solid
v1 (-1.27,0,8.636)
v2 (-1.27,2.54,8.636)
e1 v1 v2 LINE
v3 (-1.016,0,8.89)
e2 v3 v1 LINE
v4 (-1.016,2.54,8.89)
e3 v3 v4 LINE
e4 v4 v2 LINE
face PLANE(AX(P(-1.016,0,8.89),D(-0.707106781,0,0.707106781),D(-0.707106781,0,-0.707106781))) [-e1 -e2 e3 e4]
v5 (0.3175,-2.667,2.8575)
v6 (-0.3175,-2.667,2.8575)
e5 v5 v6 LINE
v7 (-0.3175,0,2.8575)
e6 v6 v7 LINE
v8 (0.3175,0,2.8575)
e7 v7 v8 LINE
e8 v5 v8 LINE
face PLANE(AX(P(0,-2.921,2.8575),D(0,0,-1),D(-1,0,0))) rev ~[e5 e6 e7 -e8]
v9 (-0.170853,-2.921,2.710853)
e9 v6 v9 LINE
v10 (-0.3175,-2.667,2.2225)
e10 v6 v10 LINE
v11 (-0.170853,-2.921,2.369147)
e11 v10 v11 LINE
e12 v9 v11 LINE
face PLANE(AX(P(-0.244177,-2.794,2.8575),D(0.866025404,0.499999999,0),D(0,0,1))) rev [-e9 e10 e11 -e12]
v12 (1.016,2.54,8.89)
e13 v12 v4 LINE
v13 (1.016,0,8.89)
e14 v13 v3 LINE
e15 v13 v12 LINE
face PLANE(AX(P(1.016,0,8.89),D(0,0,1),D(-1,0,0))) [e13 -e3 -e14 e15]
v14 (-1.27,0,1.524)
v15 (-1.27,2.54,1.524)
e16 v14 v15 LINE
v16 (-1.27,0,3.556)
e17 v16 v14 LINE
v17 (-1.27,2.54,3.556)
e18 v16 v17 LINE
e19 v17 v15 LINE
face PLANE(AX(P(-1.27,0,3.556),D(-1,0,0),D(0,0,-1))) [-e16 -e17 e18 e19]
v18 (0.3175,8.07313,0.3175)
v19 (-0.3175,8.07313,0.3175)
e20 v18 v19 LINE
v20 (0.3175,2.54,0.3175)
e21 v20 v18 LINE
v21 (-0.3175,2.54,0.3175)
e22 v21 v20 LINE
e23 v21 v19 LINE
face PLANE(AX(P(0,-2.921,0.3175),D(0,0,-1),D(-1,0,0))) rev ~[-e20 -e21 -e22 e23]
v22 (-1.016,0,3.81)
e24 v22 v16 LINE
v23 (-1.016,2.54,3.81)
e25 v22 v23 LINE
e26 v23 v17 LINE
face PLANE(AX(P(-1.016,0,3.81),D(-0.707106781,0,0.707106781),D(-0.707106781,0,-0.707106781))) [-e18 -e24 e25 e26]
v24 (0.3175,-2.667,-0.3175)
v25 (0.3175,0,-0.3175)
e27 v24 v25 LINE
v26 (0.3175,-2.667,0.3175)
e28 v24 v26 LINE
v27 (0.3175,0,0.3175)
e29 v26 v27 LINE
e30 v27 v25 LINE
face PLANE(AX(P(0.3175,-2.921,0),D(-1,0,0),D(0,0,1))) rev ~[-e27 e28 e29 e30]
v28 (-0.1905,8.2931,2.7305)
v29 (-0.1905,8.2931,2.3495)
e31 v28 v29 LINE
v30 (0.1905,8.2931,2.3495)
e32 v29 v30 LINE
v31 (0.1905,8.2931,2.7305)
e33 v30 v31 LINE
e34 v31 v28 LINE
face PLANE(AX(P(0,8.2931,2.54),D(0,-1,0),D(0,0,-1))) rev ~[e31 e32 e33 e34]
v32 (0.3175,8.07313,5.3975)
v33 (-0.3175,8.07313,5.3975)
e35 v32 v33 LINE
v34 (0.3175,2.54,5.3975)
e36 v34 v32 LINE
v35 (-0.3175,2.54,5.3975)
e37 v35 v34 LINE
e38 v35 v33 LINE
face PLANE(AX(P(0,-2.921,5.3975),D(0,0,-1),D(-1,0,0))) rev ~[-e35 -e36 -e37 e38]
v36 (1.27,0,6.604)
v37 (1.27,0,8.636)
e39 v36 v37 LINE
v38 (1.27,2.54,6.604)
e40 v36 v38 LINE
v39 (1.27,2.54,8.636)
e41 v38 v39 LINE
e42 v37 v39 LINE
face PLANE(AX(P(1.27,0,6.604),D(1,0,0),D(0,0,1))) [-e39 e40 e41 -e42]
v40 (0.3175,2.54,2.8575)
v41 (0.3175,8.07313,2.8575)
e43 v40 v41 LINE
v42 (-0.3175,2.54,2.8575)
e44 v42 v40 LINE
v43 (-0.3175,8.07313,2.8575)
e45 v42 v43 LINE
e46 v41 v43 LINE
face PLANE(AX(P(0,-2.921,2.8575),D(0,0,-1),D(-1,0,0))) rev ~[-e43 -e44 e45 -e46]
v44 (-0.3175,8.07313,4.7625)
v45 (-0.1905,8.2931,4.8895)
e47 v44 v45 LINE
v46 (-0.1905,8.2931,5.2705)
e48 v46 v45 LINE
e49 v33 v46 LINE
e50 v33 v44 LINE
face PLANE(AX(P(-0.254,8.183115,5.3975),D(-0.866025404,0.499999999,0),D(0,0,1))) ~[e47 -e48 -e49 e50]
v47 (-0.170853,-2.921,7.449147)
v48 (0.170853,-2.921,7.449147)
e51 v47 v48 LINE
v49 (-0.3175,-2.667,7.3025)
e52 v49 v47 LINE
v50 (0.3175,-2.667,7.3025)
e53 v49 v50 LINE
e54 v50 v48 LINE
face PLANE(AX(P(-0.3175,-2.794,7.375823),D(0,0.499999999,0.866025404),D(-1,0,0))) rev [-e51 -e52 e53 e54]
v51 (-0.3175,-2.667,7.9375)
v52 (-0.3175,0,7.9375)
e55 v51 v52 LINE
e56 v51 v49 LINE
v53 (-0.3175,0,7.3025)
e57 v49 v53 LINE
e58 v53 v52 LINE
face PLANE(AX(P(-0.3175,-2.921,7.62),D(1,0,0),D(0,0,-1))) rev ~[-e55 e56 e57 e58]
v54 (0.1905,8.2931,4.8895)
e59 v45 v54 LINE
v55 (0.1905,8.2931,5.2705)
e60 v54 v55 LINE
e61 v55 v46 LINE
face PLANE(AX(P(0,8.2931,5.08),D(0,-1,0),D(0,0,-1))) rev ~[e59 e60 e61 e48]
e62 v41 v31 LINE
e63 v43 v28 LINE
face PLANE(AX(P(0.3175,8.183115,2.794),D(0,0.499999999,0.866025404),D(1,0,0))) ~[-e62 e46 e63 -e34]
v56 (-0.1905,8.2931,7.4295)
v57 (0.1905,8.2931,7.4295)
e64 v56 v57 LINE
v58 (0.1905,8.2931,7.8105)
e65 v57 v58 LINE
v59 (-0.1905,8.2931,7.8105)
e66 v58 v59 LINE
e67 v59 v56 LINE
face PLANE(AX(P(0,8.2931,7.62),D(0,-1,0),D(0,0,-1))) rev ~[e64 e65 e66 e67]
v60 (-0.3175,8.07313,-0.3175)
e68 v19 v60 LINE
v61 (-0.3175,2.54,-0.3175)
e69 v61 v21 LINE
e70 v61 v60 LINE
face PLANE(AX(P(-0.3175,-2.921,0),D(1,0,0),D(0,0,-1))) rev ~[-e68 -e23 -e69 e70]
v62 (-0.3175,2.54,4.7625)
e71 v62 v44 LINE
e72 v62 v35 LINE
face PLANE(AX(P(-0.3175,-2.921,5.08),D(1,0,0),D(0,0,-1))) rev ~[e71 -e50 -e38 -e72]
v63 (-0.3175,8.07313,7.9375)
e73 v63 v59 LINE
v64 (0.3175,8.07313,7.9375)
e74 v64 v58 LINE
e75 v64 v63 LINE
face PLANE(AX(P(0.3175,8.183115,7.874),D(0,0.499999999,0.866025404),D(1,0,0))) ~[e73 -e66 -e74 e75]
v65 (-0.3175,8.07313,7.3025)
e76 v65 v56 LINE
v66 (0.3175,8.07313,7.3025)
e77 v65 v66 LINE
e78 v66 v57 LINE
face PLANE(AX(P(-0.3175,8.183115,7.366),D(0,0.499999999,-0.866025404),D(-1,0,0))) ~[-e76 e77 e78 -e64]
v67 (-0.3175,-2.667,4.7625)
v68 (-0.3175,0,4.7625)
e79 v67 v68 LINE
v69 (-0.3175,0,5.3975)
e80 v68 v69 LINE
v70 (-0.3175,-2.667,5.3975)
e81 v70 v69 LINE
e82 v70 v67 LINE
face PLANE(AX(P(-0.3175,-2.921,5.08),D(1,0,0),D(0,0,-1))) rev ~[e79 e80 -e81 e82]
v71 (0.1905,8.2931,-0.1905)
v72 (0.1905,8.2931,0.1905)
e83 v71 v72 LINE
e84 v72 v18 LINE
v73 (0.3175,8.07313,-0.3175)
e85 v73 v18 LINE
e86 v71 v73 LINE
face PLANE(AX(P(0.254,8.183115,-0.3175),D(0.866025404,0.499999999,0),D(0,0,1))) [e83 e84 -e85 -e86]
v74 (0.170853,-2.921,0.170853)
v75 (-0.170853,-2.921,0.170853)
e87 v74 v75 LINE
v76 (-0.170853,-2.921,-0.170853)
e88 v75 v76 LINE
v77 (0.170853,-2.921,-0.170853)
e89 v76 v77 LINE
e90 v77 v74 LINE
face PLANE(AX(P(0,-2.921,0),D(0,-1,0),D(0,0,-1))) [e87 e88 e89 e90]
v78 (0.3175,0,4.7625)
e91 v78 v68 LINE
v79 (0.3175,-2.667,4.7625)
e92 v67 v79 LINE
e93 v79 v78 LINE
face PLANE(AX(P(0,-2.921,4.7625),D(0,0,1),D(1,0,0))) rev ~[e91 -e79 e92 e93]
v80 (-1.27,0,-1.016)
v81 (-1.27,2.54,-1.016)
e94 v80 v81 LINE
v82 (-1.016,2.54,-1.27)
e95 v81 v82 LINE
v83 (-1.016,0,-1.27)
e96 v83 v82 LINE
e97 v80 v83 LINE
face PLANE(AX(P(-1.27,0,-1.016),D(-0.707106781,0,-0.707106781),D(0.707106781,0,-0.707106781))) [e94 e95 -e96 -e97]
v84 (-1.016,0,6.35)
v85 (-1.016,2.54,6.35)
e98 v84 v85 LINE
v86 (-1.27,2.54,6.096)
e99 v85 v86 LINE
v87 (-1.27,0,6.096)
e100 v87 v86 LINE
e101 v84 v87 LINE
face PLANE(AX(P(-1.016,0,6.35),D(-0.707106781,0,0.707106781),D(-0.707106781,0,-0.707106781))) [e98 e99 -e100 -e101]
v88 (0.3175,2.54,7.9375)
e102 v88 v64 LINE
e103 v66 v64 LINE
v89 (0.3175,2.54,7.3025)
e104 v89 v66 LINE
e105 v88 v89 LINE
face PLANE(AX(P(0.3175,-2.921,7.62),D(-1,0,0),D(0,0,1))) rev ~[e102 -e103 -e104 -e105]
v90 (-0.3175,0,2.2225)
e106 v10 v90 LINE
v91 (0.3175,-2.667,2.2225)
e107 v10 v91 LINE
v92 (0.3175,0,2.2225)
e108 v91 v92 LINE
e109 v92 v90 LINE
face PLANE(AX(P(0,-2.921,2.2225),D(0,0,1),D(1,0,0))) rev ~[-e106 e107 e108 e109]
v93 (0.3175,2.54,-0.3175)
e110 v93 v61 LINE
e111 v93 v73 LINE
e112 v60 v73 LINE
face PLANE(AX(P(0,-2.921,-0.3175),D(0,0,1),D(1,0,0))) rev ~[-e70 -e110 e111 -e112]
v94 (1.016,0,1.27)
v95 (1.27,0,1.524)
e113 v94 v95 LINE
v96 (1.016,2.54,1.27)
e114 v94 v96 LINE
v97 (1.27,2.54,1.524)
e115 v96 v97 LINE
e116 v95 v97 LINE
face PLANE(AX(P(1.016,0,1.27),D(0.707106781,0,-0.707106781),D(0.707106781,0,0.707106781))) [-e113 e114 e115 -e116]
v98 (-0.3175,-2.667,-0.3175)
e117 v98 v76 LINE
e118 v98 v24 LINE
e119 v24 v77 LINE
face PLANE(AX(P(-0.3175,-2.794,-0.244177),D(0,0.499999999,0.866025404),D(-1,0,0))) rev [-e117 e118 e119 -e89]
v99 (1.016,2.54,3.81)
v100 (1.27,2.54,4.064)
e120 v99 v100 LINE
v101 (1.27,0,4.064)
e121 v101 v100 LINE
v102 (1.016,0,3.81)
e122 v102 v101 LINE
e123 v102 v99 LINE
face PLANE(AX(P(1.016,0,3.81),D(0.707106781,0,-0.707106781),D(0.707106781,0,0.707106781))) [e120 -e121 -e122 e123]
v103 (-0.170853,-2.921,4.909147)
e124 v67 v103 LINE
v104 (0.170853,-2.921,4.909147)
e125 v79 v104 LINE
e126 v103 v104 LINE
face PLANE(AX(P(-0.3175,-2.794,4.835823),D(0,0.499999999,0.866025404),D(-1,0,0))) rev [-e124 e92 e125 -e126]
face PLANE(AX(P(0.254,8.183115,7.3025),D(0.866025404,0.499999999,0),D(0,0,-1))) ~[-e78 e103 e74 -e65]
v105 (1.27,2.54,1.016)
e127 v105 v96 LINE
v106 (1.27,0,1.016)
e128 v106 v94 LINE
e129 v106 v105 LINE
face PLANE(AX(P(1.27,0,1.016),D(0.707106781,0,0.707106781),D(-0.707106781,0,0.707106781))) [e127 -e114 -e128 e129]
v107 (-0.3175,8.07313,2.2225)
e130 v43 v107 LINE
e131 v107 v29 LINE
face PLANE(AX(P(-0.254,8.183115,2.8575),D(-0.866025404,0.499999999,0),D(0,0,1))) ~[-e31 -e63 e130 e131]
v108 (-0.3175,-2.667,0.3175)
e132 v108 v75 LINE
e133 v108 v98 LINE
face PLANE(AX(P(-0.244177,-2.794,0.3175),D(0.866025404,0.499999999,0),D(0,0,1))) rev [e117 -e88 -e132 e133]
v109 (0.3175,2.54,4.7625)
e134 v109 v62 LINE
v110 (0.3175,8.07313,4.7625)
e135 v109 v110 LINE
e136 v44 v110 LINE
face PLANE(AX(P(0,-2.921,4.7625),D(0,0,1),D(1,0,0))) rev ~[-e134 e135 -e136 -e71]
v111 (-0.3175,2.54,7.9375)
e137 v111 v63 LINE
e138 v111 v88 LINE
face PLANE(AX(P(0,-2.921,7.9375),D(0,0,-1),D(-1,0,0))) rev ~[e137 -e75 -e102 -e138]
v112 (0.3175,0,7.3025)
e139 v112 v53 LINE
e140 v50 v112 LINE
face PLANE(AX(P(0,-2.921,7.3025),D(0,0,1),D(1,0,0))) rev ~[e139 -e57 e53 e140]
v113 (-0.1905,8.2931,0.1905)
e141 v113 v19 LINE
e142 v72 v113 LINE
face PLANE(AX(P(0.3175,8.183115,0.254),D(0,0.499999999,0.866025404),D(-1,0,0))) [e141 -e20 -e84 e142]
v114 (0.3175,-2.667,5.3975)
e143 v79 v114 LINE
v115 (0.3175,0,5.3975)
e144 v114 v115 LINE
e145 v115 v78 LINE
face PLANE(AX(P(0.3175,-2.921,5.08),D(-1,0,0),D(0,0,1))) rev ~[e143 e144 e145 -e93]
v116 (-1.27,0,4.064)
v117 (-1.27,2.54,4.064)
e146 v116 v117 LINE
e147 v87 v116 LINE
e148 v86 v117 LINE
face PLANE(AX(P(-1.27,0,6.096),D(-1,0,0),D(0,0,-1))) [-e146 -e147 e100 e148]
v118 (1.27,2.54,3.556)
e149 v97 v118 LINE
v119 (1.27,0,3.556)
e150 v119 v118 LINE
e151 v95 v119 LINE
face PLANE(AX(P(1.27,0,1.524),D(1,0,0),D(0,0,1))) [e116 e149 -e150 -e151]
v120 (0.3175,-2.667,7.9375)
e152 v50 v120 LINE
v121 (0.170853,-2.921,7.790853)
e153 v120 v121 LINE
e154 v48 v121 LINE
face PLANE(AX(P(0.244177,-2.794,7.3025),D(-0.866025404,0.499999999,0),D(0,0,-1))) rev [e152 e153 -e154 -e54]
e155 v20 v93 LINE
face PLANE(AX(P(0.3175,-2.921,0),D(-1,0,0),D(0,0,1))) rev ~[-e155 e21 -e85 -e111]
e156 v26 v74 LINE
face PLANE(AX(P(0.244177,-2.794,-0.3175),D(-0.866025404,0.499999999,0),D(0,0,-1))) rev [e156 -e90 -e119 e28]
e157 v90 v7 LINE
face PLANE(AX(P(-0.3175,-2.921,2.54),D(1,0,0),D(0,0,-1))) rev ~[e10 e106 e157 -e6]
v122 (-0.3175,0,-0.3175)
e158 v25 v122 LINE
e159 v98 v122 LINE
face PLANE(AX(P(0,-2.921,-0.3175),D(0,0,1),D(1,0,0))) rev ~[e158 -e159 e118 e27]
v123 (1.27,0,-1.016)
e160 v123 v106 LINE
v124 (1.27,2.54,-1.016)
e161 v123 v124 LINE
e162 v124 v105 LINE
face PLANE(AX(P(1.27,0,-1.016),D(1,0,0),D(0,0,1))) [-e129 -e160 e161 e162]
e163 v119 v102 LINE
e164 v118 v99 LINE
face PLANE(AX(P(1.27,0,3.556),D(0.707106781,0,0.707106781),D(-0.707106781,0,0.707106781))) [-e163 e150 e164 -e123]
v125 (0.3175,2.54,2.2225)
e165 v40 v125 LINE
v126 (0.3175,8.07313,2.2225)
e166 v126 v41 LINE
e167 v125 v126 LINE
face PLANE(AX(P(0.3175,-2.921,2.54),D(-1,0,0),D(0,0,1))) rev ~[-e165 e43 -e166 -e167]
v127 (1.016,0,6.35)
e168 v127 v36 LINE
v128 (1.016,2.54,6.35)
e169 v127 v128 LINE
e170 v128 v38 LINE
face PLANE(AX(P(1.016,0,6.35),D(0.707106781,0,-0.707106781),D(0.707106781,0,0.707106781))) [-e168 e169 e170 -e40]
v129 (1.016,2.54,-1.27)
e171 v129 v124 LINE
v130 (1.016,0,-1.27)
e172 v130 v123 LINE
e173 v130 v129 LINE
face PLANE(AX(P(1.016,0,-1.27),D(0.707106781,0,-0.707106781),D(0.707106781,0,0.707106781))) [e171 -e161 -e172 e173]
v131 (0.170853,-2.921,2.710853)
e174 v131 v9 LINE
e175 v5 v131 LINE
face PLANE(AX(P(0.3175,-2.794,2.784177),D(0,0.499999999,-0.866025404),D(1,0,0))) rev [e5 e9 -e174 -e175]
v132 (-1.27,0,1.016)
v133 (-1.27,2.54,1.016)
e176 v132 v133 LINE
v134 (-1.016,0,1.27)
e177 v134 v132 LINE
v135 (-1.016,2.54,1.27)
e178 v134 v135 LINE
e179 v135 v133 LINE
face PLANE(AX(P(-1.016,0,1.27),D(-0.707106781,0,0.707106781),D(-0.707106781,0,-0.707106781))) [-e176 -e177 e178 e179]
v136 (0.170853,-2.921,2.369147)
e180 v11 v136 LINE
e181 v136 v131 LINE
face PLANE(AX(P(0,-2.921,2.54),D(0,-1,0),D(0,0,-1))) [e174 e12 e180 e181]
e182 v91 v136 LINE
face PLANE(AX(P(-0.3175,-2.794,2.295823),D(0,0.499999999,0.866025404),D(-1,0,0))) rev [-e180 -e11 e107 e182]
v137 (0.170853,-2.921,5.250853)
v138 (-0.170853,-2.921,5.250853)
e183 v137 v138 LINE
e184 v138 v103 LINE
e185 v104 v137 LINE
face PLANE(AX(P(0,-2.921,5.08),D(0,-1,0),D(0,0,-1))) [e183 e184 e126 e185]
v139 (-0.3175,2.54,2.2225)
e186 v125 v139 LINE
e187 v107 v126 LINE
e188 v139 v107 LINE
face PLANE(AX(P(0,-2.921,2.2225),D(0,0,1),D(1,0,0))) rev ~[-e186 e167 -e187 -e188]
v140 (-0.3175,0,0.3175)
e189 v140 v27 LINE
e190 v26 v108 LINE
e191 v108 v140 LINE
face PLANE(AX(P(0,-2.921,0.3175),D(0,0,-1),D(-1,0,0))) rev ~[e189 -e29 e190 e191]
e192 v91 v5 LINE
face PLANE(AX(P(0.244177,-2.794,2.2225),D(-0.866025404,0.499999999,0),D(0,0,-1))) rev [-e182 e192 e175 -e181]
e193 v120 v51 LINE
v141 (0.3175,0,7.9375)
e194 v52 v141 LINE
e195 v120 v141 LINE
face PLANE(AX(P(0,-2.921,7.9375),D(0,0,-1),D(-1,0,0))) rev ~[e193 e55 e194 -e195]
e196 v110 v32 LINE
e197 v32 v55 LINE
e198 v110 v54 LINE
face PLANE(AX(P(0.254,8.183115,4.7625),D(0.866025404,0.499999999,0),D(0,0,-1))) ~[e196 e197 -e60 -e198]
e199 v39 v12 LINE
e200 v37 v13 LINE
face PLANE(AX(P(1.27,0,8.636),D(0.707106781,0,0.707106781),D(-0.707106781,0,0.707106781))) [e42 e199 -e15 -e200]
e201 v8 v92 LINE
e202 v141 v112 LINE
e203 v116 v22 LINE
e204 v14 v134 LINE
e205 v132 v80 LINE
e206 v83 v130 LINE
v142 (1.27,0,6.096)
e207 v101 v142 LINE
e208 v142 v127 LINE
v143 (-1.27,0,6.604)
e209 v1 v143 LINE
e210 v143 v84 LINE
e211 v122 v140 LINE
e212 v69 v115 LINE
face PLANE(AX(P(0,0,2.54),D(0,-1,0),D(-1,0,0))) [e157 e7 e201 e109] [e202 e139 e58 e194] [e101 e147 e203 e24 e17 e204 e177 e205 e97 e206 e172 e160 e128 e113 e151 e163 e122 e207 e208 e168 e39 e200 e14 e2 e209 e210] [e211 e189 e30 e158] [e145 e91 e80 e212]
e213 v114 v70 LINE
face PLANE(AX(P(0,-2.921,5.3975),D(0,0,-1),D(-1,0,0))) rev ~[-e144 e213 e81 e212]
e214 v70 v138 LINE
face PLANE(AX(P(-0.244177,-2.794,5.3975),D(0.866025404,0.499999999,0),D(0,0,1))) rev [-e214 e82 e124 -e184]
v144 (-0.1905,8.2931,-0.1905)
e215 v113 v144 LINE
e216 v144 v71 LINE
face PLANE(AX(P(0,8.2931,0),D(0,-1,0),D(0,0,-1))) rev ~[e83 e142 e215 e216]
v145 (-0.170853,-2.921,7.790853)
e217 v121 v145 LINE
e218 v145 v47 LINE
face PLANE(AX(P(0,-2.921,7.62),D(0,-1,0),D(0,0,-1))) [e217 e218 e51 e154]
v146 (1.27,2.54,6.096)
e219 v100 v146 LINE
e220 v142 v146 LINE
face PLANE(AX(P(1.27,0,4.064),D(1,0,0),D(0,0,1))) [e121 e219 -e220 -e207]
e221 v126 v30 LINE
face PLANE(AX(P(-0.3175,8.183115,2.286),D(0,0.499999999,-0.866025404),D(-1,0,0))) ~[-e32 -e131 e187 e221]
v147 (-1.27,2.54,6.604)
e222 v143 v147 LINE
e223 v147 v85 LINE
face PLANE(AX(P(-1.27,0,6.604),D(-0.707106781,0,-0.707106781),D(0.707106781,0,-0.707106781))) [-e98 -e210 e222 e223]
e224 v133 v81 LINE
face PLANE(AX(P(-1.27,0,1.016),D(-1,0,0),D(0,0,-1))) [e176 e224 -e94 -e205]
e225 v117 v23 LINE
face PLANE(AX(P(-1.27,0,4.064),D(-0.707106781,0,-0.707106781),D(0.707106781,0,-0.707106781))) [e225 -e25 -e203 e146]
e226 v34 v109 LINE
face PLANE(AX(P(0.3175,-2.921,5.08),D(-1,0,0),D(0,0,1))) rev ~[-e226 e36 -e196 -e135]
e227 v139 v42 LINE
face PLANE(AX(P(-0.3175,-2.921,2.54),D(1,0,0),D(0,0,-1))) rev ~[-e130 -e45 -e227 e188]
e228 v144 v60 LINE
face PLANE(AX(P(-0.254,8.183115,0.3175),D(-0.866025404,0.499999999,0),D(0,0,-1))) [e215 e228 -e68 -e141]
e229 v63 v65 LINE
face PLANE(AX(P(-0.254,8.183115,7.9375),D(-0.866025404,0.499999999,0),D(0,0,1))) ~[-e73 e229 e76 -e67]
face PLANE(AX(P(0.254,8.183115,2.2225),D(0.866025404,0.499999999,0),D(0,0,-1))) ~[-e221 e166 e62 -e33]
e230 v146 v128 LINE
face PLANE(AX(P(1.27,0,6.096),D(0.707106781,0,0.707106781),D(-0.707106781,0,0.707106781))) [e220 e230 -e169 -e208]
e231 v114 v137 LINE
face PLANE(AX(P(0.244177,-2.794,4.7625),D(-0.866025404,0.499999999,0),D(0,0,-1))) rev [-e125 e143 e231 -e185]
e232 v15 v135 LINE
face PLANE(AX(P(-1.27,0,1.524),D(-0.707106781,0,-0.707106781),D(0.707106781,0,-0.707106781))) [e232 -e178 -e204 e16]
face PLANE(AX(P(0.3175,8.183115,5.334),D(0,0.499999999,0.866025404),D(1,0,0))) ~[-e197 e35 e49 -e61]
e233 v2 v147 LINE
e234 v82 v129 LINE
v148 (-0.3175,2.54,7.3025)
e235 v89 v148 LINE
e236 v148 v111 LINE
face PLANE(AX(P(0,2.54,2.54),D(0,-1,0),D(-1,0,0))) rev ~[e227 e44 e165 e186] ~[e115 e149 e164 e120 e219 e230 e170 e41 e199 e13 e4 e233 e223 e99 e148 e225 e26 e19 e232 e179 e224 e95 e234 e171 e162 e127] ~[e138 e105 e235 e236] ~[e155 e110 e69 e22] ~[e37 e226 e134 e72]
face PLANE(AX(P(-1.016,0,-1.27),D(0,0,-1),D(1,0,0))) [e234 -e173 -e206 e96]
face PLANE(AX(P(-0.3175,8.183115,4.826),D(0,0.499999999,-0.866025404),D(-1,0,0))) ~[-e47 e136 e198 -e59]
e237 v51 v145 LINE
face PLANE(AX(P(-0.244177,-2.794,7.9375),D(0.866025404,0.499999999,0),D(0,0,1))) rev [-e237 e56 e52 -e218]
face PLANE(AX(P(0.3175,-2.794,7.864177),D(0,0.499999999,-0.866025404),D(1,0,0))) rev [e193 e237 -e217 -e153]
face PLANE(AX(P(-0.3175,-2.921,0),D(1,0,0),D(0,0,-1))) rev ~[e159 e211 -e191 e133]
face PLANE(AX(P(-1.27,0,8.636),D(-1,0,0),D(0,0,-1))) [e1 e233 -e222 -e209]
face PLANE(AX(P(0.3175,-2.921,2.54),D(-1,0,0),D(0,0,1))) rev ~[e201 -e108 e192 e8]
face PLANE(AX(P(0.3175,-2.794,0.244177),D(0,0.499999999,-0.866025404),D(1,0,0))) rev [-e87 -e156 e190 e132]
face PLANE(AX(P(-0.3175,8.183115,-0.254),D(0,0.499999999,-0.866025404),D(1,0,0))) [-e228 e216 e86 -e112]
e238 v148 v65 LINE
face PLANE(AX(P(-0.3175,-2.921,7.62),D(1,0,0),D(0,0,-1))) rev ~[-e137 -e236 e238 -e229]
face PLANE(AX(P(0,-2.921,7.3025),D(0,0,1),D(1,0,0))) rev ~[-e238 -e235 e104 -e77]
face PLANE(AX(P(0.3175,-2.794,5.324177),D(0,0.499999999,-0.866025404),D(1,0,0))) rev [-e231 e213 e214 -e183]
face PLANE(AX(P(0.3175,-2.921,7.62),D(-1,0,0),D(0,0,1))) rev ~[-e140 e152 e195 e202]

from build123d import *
from OCP.BRepFilletAPI import BRepFilletAPI_MakeChamfer

# Parameters (mm, degrees)
BOSS_EXTRUDE1_DEPTH         = 2.54
SKETCH3_W                   = 0.635
SKETCH3_H                   = 0.635
CHAMFER1_SIZE               = 0.254
CHAMFER1_SIZE2              = 0.146646968
CHAMFER2_SIZE               = 0.127
CHAMFER2_SIZE2              = 0.219970453
LPATTERN1_COUNT             = 4
LPATTERN1_PITCH             = 2.54
CHAMFER1_OF_LPATTERN1_SIZE  = 0.254
CHAMFER1_OF_LPATTERN1_SIZE2 = 0.146646968
CHAMFER2_OF_LPATTERN1_SIZE2 = 0.127
CHAMFER2_OF_LPATTERN1_SIZE  = 0.219970453


with BuildPart() as part:
    # Sketch1 → Boss-Extrude1 (new body)
    with BuildSketch(Plane(origin=(0, 0, 0), x_dir=(1, 0, 0), z_dir=(0, 1, 0))):
        Polygon((1.016, 1.27), (1.27, 1.016), (1.27, -1.016), (1.016, -1.27), (-1.016, -1.27), (-1.27, -1.016), (-1.27, 1.016), (-1.016, 1.27), align=None)
    boss_extrude1 = extrude(amount=BOSS_EXTRUDE1_DEPTH)

    # Sweep1: sweep along a path in Sketch2
    with BuildLine(Plane.XY) as sweep1_path:
        Line((0, -2.921), (0, 0))
        Line((0, 0), (0, 8.2931))
    # Sketch3 → Sweep1 (sweep)
    with BuildSketch(Plane(origin=(0, -2.921, 0), x_dir=(-1, 0, 0), z_dir=(0, -1, 0))):
        Rectangle(SKETCH3_W, SKETCH3_H)
    sweep1 = sweep(path=sweep1_path.line)

    # Chamfer1: one chamfer whose edges measure the first distance from different faces: ONE call of the kernel's chamfer builder (chamfer() names one face for all edges)
    chamfer1_edges_1 = [part.edges().sort_by_distance(p)[0] for p in [
        (0.3175, -2.921, 0),
    ]]
    chamfer1_side_1 = [part.faces().sort_by_distance(p)[0] for p in [
        (0.3175, -1.4605, 0),
    ]]
    chamfer1_edges_2 = [part.edges().sort_by_distance(p)[0] for p in [
        (0, -2.921, 0.3175),
    ]]
    chamfer1_side_2 = [part.faces().sort_by_distance(p)[0] for p in [
        (0, -1.4605, 0.3175),
    ]]
    chamfer1_edges_3 = [part.edges().sort_by_distance(p)[0] for p in [
        (-0.3175, -2.921, 0),
    ]]
    chamfer1_side_3 = [part.faces().sort_by_distance(p)[0] for p in [
        (-0.3175, -1.4605, 0),
    ]]
    chamfer1_edges_4 = [part.edges().sort_by_distance(p)[0] for p in [
        (0, -2.921, -0.3175),
    ]]
    chamfer1_side_4 = [part.faces().sort_by_distance(p)[0] for p in [
        (0, -1.4605, -0.3175),
    ]]
    chamfer1 = BRepFilletAPI_MakeChamfer(part.part.solid().wrapped)
    for e in chamfer1_edges_1:
        chamfer1.Add(CHAMFER1_SIZE, CHAMFER1_SIZE2, e.wrapped, chamfer1_side_1[0].wrapped)  # the first distance lies on this face
    for e in chamfer1_edges_2:
        chamfer1.Add(CHAMFER1_SIZE, CHAMFER1_SIZE2, e.wrapped, chamfer1_side_2[0].wrapped)  # the first distance lies on this face
    for e in chamfer1_edges_3:
        chamfer1.Add(CHAMFER1_SIZE, CHAMFER1_SIZE2, e.wrapped, chamfer1_side_3[0].wrapped)  # the first distance lies on this face
    for e in chamfer1_edges_4:
        chamfer1.Add(CHAMFER1_SIZE, CHAMFER1_SIZE2, e.wrapped, chamfer1_side_4[0].wrapped)  # the first distance lies on this face
    add(Compound.cast(chamfer1.Shape()), mode=Mode.REPLACE)

    # Chamfer2
    chamfer2_edges = [part.edges().sort_by_distance(p)[0] for p in [
        (0.3175, 8.2931, 0),
        (0, 8.2931, 0.3175),
        (-0.3175, 8.2931, 0),
        (0, 8.2931, -0.3175),
    ]]
    chamfer2_side = [part.faces().sort_by_distance(p)[0] for p in [
        (0, 8.2931, 0),
    ]]
    chamfer(chamfer2_edges, length=CHAMFER2_SIZE, length2=CHAMFER2_SIZE2, reference=chamfer2_side[0])

    # LPattern1: Boss-Extrude1, Sweep1 ×4
    with Locations(*[(0, 0, i * LPATTERN1_PITCH) for i in range(1, LPATTERN1_COUNT)]):
        add(boss_extrude1)
        add(sweep1)

    # Chamfer1 of LPattern1: one chamfer whose edges measure the first distance from different faces: ONE call of the kernel's chamfer builder (chamfer() names one face for all edges)
    chamfer1_of_lpattern1_edges_1 = [part.edges().sort_by_distance(p)[0] for p in [
        (0.3175, -2.921, 2.54),
    ]]
    chamfer1_of_lpattern1_side_1 = [part.faces().sort_by_distance(p)[0] for p in [
        (0.3175, -1.4605, 2.54),
    ]]
    chamfer1_of_lpattern1_edges_2 = [part.edges().sort_by_distance(p)[0] for p in [
        (0, -2.921, 2.8575),
    ]]
    chamfer1_of_lpattern1_side_2 = [part.faces().sort_by_distance(p)[0] for p in [
        (0, -1.4605, 2.8575),
    ]]
    chamfer1_of_lpattern1_edges_3 = [part.edges().sort_by_distance(p)[0] for p in [
        (-0.3175, -2.921, 2.54),
    ]]
    chamfer1_of_lpattern1_side_3 = [part.faces().sort_by_distance(p)[0] for p in [
        (-0.3175, -1.4605, 2.54),
    ]]
    chamfer1_of_lpattern1_edges_4 = [part.edges().sort_by_distance(p)[0] for p in [
        (0, -2.921, 2.2225),
    ]]
    chamfer1_of_lpattern1_side_4 = [part.faces().sort_by_distance(p)[0] for p in [
        (0, -1.4605, 2.2225),
    ]]
    chamfer1_of_lpattern1_edges_5 = [part.edges().sort_by_distance(p)[0] for p in [
        (0.3175, -2.921, 5.08),
    ]]
    chamfer1_of_lpattern1_side_5 = [part.faces().sort_by_distance(p)[0] for p in [
        (0.3175, -1.4605, 5.08),
    ]]
    chamfer1_of_lpattern1_edges_6 = [part.edges().sort_by_distance(p)[0] for p in [
        (0, -2.921, 5.3975),
    ]]
    chamfer1_of_lpattern1_side_6 = [part.faces().sort_by_distance(p)[0] for p in [
        (0, -1.4605, 5.3975),
    ]]
    chamfer1_of_lpattern1_edges_7 = [part.edges().sort_by_distance(p)[0] for p in [
        (-0.3175, -2.921, 5.08),
    ]]
    chamfer1_of_lpattern1_side_7 = [part.faces().sort_by_distance(p)[0] for p in [
        (-0.3175, -1.4605, 5.08),
    ]]
    chamfer1_of_lpattern1_edges_8 = [part.edges().sort_by_distance(p)[0] for p in [
        (0, -2.921, 4.7625),
    ]]
    chamfer1_of_lpattern1_side_8 = [part.faces().sort_by_distance(p)[0] for p in [
        (0, -1.4605, 4.7625),
    ]]
    chamfer1_of_lpattern1_edges_9 = [part.edges().sort_by_distance(p)[0] for p in [
        (0.3175, -2.921, 7.62),
    ]]
    chamfer1_of_lpattern1_side_9 = [part.faces().sort_by_distance(p)[0] for p in [
        (0.3175, -1.4605, 7.62),
    ]]
    chamfer1_of_lpattern1_edges_10 = [part.edges().sort_by_distance(p)[0] for p in [
        (0, -2.921, 7.9375),
    ]]
    chamfer1_of_lpattern1_side_10 = [part.faces().sort_by_distance(p)[0] for p in [
        (0, -1.4605, 7.9375),
    ]]
    chamfer1_of_lpattern1_edges_11 = [part.edges().sort_by_distance(p)[0] for p in [
        (-0.3175, -2.921, 7.62),
    ]]
    chamfer1_of_lpattern1_side_11 = [part.faces().sort_by_distance(p)[0] for p in [
        (-0.3175, -1.4605, 7.62),
    ]]
    chamfer1_of_lpattern1_edges_12 = [part.edges().sort_by_distance(p)[0] for p in [
        (0, -2.921, 7.3025),
    ]]
    chamfer1_of_lpattern1_side_12 = [part.faces().sort_by_distance(p)[0] for p in [
        (0, -1.4605, 7.3025),
    ]]
    chamfer1_of_lpattern1 = BRepFilletAPI_MakeChamfer(part.part.solid().wrapped)
    for e in chamfer1_of_lpattern1_edges_1:
        chamfer1_of_lpattern1.Add(CHAMFER1_OF_LPATTERN1_SIZE, CHAMFER1_OF_LPATTERN1_SIZE2, e.wrapped, chamfer1_of_lpattern1_side_1[0].wrapped)  # the first distance lies on this face
    for e in chamfer1_of_lpattern1_edges_2:
        chamfer1_of_lpattern1.Add(CHAMFER1_OF_LPATTERN1_SIZE, CHAMFER1_OF_LPATTERN1_SIZE2, e.wrapped, chamfer1_of_lpattern1_side_2[0].wrapped)  # the first distance lies on this face
    for e in chamfer1_of_lpattern1_edges_3:
        chamfer1_of_lpattern1.Add(CHAMFER1_OF_LPATTERN1_SIZE, CHAMFER1_OF_LPATTERN1_SIZE2, e.wrapped, chamfer1_of_lpattern1_side_3[0].wrapped)  # the first distance lies on this face
    for e in chamfer1_of_lpattern1_edges_4:
        chamfer1_of_lpattern1.Add(CHAMFER1_OF_LPATTERN1_SIZE, CHAMFER1_OF_LPATTERN1_SIZE2, e.wrapped, chamfer1_of_lpattern1_side_4[0].wrapped)  # the first distance lies on this face
    for e in chamfer1_of_lpattern1_edges_5:
        chamfer1_of_lpattern1.Add(CHAMFER1_OF_LPATTERN1_SIZE, CHAMFER1_OF_LPATTERN1_SIZE2, e.wrapped, chamfer1_of_lpattern1_side_5[0].wrapped)  # the first distance lies on this face
    for e in chamfer1_of_lpattern1_edges_6:
        chamfer1_of_lpattern1.Add(CHAMFER1_OF_LPATTERN1_SIZE, CHAMFER1_OF_LPATTERN1_SIZE2, e.wrapped, chamfer1_of_lpattern1_side_6[0].wrapped)  # the first distance lies on this face
    for e in chamfer1_of_lpattern1_edges_7:
        chamfer1_of_lpattern1.Add(CHAMFER1_OF_LPATTERN1_SIZE, CHAMFER1_OF_LPATTERN1_SIZE2, e.wrapped, chamfer1_of_lpattern1_side_7[0].wrapped)  # the first distance lies on this face
    for e in chamfer1_of_lpattern1_edges_8:
        chamfer1_of_lpattern1.Add(CHAMFER1_OF_LPATTERN1_SIZE, CHAMFER1_OF_LPATTERN1_SIZE2, e.wrapped, chamfer1_of_lpattern1_side_8[0].wrapped)  # the first distance lies on this face
    for e in chamfer1_of_lpattern1_edges_9:
        chamfer1_of_lpattern1.Add(CHAMFER1_OF_LPATTERN1_SIZE, CHAMFER1_OF_LPATTERN1_SIZE2, e.wrapped, chamfer1_of_lpattern1_side_9[0].wrapped)  # the first distance lies on this face
    for e in chamfer1_of_lpattern1_edges_10:
        chamfer1_of_lpattern1.Add(CHAMFER1_OF_LPATTERN1_SIZE, CHAMFER1_OF_LPATTERN1_SIZE2, e.wrapped, chamfer1_of_lpattern1_side_10[0].wrapped)  # the first distance lies on this face
    for e in chamfer1_of_lpattern1_edges_11:
        chamfer1_of_lpattern1.Add(CHAMFER1_OF_LPATTERN1_SIZE, CHAMFER1_OF_LPATTERN1_SIZE2, e.wrapped, chamfer1_of_lpattern1_side_11[0].wrapped)  # the first distance lies on this face
    for e in chamfer1_of_lpattern1_edges_12:
        chamfer1_of_lpattern1.Add(CHAMFER1_OF_LPATTERN1_SIZE, CHAMFER1_OF_LPATTERN1_SIZE2, e.wrapped, chamfer1_of_lpattern1_side_12[0].wrapped)  # the first distance lies on this face
    add(Compound.cast(chamfer1_of_lpattern1.Shape()), mode=Mode.REPLACE)

    # Chamfer2 of LPattern1
    chamfer2_of_lpattern1_edges = [part.edges().sort_by_distance(p)[0] for p in [
        (0.3175, 8.2931, 2.54),
        (0, 8.2931, 2.8575),
        (-0.3175, 8.2931, 2.54),
        (0, 8.2931, 2.2225),
        (0.3175, 8.2931, 5.08),
        (0, 8.2931, 5.3975),
        (-0.3175, 8.2931, 5.08),
        (0, 8.2931, 4.7625),
        (0.3175, 8.2931, 7.62),
        (0, 8.2931, 7.9375),
        (-0.3175, 8.2931, 7.62),
        (0, 8.2931, 7.3025),
    ]]
    chamfer(chamfer2_of_lpattern1_edges, length=CHAMFER2_OF_LPATTERN1_SIZE, length2=CHAMFER2_OF_LPATTERN1_SIZE2)


solid = part.part
